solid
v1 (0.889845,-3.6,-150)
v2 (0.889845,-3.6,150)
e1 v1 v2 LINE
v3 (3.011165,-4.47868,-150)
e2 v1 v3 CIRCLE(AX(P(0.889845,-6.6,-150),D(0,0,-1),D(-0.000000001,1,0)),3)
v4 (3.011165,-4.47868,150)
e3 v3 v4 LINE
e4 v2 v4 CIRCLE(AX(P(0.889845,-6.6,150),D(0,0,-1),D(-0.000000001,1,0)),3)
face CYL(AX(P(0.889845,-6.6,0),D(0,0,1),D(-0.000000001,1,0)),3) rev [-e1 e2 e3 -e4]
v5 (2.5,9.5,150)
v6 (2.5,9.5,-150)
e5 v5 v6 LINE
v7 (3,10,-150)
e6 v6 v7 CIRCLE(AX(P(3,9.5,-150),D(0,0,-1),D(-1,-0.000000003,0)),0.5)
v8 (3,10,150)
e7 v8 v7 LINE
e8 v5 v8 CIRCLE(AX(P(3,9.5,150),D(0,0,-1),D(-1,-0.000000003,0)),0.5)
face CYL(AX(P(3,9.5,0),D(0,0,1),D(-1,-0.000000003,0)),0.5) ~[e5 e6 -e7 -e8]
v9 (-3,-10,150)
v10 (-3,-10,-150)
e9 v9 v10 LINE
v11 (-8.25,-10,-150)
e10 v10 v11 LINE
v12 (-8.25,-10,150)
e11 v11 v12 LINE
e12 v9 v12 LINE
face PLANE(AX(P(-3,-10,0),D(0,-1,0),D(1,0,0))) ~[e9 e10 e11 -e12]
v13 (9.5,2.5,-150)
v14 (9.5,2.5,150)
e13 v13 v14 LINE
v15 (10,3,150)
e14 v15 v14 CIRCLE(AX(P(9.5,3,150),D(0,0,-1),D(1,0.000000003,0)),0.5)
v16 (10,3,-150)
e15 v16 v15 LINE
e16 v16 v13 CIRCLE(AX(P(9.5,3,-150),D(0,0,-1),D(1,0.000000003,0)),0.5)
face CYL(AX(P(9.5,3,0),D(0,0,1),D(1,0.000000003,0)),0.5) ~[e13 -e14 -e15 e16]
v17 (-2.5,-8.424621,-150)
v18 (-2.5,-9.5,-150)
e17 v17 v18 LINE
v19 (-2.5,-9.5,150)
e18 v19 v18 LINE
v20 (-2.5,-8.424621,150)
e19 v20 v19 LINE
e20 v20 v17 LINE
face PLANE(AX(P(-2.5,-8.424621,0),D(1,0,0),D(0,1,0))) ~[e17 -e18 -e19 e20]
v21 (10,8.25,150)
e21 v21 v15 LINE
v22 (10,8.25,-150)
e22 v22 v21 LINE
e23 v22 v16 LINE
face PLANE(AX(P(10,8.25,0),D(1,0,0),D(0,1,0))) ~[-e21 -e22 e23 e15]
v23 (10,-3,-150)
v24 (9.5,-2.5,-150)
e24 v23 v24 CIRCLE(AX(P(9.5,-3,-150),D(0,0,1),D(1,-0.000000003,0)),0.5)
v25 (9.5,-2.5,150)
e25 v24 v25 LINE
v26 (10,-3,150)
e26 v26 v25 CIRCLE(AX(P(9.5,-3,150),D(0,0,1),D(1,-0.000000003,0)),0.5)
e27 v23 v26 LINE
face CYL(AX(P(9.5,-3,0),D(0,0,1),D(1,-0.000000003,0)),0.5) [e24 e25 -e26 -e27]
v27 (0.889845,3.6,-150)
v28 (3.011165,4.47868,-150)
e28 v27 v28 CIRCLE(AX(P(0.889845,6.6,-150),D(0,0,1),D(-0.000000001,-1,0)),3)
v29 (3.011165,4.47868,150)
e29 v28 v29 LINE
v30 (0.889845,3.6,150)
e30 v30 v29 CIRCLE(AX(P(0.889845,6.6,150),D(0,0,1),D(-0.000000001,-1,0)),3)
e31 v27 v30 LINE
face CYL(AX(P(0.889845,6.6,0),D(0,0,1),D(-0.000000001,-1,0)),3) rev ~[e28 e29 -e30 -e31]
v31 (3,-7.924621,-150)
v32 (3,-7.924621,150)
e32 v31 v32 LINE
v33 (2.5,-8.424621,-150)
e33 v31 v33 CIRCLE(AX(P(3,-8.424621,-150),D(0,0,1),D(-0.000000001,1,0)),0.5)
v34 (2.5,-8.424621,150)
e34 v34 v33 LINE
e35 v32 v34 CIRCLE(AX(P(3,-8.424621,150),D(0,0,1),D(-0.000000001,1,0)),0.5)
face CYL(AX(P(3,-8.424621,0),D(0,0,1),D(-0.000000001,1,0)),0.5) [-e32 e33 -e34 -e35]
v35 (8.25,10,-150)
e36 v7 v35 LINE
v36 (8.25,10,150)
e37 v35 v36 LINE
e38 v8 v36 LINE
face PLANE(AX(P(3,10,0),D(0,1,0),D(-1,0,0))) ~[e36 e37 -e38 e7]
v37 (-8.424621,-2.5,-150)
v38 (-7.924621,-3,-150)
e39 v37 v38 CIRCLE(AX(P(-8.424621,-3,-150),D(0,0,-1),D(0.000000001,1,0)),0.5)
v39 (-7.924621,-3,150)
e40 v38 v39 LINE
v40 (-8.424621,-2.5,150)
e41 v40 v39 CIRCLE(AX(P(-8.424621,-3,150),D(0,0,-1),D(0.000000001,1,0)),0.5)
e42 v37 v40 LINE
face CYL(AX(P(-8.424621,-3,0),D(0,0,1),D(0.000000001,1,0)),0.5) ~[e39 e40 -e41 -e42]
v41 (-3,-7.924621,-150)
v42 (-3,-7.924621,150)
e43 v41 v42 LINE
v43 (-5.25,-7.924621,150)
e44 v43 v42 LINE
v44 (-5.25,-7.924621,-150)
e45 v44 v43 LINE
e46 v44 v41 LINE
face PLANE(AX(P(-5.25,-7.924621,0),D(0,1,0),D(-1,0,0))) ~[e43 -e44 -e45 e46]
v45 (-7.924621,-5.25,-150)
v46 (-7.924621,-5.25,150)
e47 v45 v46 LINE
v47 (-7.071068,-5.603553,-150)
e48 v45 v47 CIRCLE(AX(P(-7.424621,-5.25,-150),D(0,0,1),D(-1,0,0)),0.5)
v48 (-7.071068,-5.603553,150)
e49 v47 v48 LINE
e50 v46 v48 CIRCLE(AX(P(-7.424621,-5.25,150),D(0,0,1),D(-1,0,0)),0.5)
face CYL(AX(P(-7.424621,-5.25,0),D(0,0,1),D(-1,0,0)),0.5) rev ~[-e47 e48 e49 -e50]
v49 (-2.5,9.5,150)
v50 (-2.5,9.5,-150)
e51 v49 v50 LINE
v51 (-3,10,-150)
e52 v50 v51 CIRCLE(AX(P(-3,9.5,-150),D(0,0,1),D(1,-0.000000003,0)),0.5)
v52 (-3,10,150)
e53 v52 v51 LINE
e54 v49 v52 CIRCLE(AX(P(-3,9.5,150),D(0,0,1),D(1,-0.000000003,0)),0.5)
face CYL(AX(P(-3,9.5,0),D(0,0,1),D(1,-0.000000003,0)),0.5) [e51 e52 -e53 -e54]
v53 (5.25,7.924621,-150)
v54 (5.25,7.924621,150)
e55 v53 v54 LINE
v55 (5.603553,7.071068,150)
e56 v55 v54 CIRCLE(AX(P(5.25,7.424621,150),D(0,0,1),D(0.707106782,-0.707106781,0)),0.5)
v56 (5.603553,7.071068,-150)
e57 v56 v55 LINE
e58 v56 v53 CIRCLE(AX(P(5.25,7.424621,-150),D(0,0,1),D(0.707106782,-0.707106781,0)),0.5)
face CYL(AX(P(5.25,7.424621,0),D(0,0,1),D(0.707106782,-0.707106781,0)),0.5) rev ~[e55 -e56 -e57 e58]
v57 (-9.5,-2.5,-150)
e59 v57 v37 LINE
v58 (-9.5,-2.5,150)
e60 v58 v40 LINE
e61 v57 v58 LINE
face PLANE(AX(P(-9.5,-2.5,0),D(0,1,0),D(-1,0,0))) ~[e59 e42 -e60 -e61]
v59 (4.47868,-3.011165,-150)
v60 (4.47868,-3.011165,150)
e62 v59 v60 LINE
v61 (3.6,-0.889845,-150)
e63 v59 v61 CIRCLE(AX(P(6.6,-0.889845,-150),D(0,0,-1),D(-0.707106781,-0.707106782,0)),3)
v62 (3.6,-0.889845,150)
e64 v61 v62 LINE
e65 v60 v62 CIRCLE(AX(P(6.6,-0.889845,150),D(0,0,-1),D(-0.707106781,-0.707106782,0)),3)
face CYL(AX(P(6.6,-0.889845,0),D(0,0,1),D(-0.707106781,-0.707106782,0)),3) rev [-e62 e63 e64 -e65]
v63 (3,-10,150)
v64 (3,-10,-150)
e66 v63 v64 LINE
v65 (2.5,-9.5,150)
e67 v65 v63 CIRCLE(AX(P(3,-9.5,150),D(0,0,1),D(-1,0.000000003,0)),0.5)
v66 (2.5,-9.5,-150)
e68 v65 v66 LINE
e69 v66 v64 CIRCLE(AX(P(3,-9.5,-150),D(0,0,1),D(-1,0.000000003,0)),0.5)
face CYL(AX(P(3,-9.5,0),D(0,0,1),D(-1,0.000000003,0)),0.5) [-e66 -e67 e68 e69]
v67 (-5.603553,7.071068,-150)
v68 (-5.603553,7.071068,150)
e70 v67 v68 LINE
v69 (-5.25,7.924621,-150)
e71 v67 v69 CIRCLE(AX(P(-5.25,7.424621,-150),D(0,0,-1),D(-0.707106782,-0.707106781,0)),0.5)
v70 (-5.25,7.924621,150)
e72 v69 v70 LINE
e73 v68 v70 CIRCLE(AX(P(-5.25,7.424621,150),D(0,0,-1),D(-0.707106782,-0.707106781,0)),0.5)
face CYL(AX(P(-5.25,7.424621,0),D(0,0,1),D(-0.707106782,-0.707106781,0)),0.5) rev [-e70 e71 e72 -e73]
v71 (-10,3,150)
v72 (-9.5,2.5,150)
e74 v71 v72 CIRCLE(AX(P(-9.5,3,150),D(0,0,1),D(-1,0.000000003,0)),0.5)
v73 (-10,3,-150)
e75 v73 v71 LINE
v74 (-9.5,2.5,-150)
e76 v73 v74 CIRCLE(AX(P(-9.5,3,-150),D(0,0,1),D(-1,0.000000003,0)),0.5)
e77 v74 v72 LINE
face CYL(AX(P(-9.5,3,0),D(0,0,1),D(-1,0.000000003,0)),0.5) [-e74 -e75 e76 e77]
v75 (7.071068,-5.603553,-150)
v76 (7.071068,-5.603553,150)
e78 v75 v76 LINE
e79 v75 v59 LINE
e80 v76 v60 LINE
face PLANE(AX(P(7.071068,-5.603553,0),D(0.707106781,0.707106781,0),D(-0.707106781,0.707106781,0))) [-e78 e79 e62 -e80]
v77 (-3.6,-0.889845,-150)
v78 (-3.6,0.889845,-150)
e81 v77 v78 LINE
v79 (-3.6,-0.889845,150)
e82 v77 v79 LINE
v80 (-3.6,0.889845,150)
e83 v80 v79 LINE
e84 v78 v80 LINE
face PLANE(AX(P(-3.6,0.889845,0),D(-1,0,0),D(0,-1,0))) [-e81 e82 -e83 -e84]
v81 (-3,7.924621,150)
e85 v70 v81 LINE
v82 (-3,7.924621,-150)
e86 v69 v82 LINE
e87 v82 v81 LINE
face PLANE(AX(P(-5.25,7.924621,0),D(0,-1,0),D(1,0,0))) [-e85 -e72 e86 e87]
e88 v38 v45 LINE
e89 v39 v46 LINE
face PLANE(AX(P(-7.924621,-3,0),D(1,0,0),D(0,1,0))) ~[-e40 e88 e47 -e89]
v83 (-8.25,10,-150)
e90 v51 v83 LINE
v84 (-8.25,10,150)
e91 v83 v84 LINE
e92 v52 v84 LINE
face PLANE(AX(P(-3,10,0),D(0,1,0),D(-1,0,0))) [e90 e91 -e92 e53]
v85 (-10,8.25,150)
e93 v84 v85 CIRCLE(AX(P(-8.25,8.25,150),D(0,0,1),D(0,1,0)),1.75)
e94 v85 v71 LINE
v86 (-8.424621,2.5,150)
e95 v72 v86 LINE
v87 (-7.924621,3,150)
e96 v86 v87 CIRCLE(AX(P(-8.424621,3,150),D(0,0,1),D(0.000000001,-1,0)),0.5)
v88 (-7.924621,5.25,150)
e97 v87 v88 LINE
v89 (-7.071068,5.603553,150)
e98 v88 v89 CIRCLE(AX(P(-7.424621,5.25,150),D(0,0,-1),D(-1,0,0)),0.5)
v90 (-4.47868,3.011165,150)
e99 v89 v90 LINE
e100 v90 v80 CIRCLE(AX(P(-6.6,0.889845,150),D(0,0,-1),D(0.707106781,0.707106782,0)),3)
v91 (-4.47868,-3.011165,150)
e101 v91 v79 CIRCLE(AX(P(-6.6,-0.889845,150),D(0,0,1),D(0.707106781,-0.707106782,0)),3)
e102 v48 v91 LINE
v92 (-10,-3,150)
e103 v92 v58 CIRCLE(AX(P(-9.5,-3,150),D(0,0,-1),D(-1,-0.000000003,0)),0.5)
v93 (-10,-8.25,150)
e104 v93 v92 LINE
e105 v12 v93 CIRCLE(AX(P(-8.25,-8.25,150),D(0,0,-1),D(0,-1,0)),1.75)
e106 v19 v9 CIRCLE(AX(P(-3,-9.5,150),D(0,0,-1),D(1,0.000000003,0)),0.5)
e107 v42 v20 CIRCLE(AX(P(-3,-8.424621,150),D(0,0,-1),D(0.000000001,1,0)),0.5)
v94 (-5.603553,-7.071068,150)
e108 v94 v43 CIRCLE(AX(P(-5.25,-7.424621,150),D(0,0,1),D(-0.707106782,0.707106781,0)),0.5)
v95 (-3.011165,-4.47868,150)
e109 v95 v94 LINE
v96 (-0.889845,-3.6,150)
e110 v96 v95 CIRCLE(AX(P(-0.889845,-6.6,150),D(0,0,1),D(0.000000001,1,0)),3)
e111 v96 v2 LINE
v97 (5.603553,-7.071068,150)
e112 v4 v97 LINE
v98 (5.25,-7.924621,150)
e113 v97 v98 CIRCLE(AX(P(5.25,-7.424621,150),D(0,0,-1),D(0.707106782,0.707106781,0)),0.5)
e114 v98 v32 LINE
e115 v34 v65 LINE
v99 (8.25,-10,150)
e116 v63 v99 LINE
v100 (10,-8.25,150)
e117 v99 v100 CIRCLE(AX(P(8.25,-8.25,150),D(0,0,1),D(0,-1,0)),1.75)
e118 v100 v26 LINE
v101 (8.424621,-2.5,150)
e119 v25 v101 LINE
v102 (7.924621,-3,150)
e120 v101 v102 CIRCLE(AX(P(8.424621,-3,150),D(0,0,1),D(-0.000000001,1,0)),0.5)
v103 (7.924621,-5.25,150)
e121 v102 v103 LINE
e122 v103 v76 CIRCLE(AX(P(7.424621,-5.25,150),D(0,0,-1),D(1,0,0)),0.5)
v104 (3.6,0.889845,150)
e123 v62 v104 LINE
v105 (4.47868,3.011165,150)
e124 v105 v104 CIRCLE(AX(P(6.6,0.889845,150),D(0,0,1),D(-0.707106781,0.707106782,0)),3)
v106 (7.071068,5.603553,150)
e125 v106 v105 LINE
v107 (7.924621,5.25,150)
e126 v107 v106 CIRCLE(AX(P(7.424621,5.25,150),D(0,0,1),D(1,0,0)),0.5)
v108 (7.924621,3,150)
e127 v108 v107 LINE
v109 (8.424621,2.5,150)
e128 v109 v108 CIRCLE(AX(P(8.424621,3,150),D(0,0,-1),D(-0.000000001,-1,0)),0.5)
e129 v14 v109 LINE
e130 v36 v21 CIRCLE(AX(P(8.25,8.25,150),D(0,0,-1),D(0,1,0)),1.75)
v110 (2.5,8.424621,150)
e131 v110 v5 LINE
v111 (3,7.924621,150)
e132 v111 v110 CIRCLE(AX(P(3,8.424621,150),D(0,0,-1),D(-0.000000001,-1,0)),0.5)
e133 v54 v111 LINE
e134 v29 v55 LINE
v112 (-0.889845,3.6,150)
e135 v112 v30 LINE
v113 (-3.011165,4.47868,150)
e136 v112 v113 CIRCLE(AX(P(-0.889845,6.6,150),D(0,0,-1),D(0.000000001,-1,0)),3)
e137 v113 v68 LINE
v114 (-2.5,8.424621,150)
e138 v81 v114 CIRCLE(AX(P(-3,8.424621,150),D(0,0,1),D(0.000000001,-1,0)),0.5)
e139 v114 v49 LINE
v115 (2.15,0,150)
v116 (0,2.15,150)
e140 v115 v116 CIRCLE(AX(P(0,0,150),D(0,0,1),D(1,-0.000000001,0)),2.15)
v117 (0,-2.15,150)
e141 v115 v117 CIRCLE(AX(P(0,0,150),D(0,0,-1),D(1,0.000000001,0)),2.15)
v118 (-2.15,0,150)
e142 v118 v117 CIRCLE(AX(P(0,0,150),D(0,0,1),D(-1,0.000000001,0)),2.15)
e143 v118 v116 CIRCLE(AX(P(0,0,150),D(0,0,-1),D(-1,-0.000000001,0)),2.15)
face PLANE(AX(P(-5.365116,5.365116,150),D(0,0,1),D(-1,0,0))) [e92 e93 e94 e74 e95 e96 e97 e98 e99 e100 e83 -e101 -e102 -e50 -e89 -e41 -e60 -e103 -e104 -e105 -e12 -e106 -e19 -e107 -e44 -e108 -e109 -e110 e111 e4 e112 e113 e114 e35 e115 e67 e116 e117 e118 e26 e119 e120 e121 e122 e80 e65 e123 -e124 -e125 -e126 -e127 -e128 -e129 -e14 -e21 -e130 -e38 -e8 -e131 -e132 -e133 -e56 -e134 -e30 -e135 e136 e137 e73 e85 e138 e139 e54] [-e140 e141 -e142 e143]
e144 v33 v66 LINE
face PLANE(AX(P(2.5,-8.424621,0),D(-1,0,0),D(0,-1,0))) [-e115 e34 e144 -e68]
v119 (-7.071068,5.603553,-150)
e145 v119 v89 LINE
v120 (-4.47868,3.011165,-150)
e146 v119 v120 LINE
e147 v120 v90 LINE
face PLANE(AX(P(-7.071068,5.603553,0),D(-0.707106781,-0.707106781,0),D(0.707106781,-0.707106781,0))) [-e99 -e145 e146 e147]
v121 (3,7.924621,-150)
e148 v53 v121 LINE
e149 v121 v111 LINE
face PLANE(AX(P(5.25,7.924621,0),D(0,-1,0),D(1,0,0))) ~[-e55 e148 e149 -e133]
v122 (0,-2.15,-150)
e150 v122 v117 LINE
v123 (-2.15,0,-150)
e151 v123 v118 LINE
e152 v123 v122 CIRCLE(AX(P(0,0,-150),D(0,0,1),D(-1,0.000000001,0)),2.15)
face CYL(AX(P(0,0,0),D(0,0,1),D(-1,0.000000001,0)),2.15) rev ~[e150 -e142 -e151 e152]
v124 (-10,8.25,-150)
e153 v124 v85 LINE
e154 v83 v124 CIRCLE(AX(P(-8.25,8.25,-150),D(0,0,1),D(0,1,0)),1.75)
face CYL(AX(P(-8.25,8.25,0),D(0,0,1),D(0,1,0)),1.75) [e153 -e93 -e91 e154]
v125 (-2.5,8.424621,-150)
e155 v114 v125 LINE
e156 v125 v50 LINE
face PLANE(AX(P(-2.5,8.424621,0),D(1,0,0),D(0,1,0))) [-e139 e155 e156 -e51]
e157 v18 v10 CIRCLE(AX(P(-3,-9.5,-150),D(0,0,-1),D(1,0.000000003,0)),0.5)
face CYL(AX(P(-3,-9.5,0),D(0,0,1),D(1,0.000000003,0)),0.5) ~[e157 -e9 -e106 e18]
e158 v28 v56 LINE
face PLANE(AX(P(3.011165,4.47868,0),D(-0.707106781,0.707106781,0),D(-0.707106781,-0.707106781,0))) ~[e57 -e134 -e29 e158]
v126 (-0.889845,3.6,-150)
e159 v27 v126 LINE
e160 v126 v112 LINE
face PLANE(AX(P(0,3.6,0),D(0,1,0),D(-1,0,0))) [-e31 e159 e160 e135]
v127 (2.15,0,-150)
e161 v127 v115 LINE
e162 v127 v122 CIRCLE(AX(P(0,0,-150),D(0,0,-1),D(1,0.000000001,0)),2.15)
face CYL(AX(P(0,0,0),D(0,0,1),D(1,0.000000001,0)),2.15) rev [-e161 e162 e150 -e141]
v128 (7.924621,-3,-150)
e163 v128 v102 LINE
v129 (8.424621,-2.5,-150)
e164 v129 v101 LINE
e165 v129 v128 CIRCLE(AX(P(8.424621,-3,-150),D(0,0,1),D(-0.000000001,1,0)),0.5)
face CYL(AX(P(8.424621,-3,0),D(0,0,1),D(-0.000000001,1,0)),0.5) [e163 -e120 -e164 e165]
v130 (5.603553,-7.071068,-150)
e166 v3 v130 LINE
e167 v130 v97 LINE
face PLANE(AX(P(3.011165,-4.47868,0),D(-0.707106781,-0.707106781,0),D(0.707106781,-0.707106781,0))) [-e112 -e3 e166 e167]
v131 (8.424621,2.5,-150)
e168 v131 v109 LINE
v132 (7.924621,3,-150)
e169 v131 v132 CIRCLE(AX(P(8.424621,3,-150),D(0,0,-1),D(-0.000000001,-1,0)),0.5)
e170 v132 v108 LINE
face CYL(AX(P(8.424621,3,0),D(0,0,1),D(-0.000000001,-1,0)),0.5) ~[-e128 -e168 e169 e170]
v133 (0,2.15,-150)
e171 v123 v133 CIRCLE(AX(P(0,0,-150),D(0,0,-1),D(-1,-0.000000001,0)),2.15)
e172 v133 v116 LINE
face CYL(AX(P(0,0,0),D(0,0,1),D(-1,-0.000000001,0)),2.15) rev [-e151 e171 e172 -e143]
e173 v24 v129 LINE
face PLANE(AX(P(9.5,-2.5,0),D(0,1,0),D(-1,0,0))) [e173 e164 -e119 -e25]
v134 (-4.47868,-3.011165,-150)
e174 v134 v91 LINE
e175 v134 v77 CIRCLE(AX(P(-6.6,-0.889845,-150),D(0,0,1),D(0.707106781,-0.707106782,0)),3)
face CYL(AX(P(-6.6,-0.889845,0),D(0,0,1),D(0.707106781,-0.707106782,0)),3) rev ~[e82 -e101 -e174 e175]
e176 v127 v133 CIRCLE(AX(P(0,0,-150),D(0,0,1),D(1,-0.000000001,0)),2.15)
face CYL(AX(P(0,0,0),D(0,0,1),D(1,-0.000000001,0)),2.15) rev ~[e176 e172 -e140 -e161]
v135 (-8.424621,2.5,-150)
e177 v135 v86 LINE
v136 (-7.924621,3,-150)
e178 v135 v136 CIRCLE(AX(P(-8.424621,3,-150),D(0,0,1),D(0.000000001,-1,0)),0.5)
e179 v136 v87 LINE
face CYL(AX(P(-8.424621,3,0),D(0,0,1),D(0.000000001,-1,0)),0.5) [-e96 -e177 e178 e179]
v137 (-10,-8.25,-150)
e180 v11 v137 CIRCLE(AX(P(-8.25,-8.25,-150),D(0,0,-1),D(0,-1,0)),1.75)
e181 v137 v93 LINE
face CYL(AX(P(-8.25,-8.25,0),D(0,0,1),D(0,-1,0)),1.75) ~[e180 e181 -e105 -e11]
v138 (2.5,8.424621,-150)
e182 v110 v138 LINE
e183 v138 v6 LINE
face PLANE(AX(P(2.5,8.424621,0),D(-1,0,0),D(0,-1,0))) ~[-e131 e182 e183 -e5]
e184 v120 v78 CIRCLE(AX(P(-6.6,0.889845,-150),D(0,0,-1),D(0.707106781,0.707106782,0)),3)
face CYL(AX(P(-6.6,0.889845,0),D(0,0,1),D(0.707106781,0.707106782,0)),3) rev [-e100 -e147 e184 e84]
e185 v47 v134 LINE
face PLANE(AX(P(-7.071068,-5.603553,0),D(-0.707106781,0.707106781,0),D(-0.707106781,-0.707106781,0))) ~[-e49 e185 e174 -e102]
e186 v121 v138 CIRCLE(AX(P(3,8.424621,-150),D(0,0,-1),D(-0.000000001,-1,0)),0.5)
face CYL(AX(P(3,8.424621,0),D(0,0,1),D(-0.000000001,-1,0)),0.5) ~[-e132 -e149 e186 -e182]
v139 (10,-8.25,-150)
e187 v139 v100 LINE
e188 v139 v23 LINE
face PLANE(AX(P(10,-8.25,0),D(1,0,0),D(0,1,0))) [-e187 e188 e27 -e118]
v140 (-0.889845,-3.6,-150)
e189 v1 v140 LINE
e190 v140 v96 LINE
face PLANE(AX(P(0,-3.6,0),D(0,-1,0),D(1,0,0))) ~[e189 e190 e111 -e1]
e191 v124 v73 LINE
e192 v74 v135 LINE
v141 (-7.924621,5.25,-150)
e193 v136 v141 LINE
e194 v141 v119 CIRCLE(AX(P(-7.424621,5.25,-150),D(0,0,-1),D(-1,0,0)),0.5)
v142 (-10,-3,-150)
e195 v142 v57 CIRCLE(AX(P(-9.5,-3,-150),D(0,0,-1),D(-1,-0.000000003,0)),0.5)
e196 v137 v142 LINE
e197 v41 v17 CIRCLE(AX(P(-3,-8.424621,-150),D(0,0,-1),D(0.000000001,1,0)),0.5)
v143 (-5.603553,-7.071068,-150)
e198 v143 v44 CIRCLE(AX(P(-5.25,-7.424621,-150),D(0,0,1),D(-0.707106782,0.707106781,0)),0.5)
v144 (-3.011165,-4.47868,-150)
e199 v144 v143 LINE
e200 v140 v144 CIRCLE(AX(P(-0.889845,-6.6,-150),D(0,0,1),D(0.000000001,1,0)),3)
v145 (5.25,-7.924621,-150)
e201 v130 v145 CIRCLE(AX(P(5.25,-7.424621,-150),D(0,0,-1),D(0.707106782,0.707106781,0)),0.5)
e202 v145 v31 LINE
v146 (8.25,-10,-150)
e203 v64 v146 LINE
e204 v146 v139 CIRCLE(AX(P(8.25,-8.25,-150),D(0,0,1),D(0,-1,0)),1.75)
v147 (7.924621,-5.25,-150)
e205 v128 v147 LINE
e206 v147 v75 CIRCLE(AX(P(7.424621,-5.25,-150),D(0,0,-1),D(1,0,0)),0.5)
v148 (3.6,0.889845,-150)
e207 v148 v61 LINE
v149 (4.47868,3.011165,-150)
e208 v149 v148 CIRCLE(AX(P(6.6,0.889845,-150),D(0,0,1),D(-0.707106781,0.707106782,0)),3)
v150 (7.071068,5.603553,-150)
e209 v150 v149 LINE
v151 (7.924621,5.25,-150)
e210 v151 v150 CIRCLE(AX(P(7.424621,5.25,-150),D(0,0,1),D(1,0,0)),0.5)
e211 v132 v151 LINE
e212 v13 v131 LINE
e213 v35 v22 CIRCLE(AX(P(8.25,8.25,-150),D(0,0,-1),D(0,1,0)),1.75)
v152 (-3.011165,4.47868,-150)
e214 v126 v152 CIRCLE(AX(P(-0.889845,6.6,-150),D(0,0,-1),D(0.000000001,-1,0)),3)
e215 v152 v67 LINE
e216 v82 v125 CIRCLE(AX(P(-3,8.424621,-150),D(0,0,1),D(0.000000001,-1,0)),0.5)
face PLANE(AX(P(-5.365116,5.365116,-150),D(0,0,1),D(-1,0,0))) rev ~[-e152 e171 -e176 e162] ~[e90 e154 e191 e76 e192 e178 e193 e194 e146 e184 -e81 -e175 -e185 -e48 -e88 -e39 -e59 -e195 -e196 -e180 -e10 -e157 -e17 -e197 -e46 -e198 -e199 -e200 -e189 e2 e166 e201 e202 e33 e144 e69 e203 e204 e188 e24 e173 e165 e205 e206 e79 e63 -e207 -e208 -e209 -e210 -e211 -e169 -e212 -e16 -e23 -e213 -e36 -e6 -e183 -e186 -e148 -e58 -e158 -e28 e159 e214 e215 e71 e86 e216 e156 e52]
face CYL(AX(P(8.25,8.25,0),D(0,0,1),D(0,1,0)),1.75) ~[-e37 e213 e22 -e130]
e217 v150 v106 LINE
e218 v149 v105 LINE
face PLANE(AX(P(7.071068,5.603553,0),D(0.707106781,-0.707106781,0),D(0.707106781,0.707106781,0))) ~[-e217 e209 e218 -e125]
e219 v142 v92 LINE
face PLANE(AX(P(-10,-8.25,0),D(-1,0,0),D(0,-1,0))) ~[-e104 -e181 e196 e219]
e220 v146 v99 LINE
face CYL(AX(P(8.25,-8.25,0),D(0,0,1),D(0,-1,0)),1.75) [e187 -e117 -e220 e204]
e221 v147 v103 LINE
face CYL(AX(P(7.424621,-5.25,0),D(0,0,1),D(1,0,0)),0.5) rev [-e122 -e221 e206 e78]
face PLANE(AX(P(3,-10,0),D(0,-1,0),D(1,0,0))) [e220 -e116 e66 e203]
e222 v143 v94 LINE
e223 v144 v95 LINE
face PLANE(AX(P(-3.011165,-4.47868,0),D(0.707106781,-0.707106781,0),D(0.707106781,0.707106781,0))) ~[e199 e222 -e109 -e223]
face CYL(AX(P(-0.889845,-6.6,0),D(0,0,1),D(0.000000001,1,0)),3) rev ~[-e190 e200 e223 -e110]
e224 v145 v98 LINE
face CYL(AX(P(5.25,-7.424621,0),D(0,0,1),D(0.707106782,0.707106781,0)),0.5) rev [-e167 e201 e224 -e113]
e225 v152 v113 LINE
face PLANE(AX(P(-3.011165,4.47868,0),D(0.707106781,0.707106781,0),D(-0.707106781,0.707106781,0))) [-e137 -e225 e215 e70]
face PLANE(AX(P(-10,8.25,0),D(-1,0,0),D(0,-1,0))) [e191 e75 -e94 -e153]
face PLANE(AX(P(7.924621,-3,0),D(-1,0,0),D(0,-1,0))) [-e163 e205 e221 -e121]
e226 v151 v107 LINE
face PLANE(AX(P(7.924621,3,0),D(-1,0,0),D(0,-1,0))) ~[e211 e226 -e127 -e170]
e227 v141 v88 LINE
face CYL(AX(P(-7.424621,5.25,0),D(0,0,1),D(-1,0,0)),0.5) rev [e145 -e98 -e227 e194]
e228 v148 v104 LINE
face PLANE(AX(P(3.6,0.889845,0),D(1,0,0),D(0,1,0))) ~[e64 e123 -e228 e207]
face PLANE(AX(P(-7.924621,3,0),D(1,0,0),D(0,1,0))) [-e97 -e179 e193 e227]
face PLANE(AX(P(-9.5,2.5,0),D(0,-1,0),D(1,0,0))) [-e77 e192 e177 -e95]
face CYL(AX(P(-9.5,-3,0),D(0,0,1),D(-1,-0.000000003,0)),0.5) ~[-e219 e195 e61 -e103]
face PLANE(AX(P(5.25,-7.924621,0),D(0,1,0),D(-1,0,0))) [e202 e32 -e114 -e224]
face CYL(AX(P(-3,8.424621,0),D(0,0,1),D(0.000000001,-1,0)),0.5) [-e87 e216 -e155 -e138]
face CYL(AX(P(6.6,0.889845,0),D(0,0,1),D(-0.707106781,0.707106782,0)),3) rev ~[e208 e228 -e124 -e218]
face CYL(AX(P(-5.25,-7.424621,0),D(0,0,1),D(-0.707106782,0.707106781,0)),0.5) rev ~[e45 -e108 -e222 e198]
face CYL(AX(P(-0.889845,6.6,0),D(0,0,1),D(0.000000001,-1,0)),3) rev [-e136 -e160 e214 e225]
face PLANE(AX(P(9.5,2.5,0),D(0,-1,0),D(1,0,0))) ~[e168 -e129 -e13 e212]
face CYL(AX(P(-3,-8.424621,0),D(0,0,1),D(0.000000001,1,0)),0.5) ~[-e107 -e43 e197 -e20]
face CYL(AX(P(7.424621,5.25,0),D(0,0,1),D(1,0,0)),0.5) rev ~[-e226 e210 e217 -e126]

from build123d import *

# Parameters (mm, degrees)
BOSS_EXTRUDE1_DEPTH = 150


with BuildPart() as part:
    # Sketch4 → Boss-Extrude1 (new, symmetric)
    with BuildSketch(Plane.XY):
        with BuildLine():
            Line((3, -10), (8.25, -10))
            ThreePointArc((8.25, -10), (9.487436867, -9.487436867), (10, -8.25))
            Line((10, -8.25), (10, -3))
            ThreePointArc((10, -3), (9.853553391, -2.646446609), (9.5, -2.5))
            Line((9.5, -2.5), (8.424621202, -2.5))
            ThreePointArc((8.424621202, -2.5), (8.071067812, -2.646446609), (7.924621202, -3))
            Line((7.924621202, -3), (7.924621202, -5.25))
            ThreePointArc((7.924621202, -5.25), (7.615962919, -5.711939766), (7.071067812, -5.603553391))
            Line((7.071067812, -5.603553391), (4.478679656, -3.011165235))
            ThreePointArc((4.478679656, -3.011165235), (3.828361402, -2.037895189), (3.6, -0.889844892))
            Line((3.6, -0.889844892), (3.6, 0))
            Line((3.6, 0), (2.15, 0))
            ThreePointArc((2.15, 0), (1.52027958, -1.52027958), (0, -2.15))
            Line((0, -2.15), (0, -3.6))
            Line((0, -3.6), (0.889844892, -3.6))
            ThreePointArc((0.889844892, -3.6), (2.037895189, -3.828361402), (3.011165235, -4.478679656))
            Line((3.011165235, -4.478679656), (5.603553391, -7.071067812))
            ThreePointArc((5.603553391, -7.071067812), (5.711939766, -7.615962919), (5.25, -7.924621202))
            Line((5.25, -7.924621202), (3, -7.924621202))
            ThreePointArc((3, -7.924621202), (2.646446609, -8.071067812), (2.5, -8.424621202))
            Line((2.5, -8.424621202), (2.5, -9.5))
            ThreePointArc((2.5, -9.5), (2.646446609, -9.853553391), (3, -10))
        make_face()
    extrude(amount=BOSS_EXTRUDE1_DEPTH, both=True)

    # Mirror1: part across plane


with BuildPart() as part_1:
    add(part.part)
    add(part.part.mirror(Plane(origin=(0, 0, 0), x_dir=(0, 0, 1), z_dir=(1, 0, 0))))

    # Mirror2: part across plane


with BuildPart() as part_2:
    add(part_1.part)
    add(part_1.part.mirror(Plane.ZX))


solid = part_2.part
